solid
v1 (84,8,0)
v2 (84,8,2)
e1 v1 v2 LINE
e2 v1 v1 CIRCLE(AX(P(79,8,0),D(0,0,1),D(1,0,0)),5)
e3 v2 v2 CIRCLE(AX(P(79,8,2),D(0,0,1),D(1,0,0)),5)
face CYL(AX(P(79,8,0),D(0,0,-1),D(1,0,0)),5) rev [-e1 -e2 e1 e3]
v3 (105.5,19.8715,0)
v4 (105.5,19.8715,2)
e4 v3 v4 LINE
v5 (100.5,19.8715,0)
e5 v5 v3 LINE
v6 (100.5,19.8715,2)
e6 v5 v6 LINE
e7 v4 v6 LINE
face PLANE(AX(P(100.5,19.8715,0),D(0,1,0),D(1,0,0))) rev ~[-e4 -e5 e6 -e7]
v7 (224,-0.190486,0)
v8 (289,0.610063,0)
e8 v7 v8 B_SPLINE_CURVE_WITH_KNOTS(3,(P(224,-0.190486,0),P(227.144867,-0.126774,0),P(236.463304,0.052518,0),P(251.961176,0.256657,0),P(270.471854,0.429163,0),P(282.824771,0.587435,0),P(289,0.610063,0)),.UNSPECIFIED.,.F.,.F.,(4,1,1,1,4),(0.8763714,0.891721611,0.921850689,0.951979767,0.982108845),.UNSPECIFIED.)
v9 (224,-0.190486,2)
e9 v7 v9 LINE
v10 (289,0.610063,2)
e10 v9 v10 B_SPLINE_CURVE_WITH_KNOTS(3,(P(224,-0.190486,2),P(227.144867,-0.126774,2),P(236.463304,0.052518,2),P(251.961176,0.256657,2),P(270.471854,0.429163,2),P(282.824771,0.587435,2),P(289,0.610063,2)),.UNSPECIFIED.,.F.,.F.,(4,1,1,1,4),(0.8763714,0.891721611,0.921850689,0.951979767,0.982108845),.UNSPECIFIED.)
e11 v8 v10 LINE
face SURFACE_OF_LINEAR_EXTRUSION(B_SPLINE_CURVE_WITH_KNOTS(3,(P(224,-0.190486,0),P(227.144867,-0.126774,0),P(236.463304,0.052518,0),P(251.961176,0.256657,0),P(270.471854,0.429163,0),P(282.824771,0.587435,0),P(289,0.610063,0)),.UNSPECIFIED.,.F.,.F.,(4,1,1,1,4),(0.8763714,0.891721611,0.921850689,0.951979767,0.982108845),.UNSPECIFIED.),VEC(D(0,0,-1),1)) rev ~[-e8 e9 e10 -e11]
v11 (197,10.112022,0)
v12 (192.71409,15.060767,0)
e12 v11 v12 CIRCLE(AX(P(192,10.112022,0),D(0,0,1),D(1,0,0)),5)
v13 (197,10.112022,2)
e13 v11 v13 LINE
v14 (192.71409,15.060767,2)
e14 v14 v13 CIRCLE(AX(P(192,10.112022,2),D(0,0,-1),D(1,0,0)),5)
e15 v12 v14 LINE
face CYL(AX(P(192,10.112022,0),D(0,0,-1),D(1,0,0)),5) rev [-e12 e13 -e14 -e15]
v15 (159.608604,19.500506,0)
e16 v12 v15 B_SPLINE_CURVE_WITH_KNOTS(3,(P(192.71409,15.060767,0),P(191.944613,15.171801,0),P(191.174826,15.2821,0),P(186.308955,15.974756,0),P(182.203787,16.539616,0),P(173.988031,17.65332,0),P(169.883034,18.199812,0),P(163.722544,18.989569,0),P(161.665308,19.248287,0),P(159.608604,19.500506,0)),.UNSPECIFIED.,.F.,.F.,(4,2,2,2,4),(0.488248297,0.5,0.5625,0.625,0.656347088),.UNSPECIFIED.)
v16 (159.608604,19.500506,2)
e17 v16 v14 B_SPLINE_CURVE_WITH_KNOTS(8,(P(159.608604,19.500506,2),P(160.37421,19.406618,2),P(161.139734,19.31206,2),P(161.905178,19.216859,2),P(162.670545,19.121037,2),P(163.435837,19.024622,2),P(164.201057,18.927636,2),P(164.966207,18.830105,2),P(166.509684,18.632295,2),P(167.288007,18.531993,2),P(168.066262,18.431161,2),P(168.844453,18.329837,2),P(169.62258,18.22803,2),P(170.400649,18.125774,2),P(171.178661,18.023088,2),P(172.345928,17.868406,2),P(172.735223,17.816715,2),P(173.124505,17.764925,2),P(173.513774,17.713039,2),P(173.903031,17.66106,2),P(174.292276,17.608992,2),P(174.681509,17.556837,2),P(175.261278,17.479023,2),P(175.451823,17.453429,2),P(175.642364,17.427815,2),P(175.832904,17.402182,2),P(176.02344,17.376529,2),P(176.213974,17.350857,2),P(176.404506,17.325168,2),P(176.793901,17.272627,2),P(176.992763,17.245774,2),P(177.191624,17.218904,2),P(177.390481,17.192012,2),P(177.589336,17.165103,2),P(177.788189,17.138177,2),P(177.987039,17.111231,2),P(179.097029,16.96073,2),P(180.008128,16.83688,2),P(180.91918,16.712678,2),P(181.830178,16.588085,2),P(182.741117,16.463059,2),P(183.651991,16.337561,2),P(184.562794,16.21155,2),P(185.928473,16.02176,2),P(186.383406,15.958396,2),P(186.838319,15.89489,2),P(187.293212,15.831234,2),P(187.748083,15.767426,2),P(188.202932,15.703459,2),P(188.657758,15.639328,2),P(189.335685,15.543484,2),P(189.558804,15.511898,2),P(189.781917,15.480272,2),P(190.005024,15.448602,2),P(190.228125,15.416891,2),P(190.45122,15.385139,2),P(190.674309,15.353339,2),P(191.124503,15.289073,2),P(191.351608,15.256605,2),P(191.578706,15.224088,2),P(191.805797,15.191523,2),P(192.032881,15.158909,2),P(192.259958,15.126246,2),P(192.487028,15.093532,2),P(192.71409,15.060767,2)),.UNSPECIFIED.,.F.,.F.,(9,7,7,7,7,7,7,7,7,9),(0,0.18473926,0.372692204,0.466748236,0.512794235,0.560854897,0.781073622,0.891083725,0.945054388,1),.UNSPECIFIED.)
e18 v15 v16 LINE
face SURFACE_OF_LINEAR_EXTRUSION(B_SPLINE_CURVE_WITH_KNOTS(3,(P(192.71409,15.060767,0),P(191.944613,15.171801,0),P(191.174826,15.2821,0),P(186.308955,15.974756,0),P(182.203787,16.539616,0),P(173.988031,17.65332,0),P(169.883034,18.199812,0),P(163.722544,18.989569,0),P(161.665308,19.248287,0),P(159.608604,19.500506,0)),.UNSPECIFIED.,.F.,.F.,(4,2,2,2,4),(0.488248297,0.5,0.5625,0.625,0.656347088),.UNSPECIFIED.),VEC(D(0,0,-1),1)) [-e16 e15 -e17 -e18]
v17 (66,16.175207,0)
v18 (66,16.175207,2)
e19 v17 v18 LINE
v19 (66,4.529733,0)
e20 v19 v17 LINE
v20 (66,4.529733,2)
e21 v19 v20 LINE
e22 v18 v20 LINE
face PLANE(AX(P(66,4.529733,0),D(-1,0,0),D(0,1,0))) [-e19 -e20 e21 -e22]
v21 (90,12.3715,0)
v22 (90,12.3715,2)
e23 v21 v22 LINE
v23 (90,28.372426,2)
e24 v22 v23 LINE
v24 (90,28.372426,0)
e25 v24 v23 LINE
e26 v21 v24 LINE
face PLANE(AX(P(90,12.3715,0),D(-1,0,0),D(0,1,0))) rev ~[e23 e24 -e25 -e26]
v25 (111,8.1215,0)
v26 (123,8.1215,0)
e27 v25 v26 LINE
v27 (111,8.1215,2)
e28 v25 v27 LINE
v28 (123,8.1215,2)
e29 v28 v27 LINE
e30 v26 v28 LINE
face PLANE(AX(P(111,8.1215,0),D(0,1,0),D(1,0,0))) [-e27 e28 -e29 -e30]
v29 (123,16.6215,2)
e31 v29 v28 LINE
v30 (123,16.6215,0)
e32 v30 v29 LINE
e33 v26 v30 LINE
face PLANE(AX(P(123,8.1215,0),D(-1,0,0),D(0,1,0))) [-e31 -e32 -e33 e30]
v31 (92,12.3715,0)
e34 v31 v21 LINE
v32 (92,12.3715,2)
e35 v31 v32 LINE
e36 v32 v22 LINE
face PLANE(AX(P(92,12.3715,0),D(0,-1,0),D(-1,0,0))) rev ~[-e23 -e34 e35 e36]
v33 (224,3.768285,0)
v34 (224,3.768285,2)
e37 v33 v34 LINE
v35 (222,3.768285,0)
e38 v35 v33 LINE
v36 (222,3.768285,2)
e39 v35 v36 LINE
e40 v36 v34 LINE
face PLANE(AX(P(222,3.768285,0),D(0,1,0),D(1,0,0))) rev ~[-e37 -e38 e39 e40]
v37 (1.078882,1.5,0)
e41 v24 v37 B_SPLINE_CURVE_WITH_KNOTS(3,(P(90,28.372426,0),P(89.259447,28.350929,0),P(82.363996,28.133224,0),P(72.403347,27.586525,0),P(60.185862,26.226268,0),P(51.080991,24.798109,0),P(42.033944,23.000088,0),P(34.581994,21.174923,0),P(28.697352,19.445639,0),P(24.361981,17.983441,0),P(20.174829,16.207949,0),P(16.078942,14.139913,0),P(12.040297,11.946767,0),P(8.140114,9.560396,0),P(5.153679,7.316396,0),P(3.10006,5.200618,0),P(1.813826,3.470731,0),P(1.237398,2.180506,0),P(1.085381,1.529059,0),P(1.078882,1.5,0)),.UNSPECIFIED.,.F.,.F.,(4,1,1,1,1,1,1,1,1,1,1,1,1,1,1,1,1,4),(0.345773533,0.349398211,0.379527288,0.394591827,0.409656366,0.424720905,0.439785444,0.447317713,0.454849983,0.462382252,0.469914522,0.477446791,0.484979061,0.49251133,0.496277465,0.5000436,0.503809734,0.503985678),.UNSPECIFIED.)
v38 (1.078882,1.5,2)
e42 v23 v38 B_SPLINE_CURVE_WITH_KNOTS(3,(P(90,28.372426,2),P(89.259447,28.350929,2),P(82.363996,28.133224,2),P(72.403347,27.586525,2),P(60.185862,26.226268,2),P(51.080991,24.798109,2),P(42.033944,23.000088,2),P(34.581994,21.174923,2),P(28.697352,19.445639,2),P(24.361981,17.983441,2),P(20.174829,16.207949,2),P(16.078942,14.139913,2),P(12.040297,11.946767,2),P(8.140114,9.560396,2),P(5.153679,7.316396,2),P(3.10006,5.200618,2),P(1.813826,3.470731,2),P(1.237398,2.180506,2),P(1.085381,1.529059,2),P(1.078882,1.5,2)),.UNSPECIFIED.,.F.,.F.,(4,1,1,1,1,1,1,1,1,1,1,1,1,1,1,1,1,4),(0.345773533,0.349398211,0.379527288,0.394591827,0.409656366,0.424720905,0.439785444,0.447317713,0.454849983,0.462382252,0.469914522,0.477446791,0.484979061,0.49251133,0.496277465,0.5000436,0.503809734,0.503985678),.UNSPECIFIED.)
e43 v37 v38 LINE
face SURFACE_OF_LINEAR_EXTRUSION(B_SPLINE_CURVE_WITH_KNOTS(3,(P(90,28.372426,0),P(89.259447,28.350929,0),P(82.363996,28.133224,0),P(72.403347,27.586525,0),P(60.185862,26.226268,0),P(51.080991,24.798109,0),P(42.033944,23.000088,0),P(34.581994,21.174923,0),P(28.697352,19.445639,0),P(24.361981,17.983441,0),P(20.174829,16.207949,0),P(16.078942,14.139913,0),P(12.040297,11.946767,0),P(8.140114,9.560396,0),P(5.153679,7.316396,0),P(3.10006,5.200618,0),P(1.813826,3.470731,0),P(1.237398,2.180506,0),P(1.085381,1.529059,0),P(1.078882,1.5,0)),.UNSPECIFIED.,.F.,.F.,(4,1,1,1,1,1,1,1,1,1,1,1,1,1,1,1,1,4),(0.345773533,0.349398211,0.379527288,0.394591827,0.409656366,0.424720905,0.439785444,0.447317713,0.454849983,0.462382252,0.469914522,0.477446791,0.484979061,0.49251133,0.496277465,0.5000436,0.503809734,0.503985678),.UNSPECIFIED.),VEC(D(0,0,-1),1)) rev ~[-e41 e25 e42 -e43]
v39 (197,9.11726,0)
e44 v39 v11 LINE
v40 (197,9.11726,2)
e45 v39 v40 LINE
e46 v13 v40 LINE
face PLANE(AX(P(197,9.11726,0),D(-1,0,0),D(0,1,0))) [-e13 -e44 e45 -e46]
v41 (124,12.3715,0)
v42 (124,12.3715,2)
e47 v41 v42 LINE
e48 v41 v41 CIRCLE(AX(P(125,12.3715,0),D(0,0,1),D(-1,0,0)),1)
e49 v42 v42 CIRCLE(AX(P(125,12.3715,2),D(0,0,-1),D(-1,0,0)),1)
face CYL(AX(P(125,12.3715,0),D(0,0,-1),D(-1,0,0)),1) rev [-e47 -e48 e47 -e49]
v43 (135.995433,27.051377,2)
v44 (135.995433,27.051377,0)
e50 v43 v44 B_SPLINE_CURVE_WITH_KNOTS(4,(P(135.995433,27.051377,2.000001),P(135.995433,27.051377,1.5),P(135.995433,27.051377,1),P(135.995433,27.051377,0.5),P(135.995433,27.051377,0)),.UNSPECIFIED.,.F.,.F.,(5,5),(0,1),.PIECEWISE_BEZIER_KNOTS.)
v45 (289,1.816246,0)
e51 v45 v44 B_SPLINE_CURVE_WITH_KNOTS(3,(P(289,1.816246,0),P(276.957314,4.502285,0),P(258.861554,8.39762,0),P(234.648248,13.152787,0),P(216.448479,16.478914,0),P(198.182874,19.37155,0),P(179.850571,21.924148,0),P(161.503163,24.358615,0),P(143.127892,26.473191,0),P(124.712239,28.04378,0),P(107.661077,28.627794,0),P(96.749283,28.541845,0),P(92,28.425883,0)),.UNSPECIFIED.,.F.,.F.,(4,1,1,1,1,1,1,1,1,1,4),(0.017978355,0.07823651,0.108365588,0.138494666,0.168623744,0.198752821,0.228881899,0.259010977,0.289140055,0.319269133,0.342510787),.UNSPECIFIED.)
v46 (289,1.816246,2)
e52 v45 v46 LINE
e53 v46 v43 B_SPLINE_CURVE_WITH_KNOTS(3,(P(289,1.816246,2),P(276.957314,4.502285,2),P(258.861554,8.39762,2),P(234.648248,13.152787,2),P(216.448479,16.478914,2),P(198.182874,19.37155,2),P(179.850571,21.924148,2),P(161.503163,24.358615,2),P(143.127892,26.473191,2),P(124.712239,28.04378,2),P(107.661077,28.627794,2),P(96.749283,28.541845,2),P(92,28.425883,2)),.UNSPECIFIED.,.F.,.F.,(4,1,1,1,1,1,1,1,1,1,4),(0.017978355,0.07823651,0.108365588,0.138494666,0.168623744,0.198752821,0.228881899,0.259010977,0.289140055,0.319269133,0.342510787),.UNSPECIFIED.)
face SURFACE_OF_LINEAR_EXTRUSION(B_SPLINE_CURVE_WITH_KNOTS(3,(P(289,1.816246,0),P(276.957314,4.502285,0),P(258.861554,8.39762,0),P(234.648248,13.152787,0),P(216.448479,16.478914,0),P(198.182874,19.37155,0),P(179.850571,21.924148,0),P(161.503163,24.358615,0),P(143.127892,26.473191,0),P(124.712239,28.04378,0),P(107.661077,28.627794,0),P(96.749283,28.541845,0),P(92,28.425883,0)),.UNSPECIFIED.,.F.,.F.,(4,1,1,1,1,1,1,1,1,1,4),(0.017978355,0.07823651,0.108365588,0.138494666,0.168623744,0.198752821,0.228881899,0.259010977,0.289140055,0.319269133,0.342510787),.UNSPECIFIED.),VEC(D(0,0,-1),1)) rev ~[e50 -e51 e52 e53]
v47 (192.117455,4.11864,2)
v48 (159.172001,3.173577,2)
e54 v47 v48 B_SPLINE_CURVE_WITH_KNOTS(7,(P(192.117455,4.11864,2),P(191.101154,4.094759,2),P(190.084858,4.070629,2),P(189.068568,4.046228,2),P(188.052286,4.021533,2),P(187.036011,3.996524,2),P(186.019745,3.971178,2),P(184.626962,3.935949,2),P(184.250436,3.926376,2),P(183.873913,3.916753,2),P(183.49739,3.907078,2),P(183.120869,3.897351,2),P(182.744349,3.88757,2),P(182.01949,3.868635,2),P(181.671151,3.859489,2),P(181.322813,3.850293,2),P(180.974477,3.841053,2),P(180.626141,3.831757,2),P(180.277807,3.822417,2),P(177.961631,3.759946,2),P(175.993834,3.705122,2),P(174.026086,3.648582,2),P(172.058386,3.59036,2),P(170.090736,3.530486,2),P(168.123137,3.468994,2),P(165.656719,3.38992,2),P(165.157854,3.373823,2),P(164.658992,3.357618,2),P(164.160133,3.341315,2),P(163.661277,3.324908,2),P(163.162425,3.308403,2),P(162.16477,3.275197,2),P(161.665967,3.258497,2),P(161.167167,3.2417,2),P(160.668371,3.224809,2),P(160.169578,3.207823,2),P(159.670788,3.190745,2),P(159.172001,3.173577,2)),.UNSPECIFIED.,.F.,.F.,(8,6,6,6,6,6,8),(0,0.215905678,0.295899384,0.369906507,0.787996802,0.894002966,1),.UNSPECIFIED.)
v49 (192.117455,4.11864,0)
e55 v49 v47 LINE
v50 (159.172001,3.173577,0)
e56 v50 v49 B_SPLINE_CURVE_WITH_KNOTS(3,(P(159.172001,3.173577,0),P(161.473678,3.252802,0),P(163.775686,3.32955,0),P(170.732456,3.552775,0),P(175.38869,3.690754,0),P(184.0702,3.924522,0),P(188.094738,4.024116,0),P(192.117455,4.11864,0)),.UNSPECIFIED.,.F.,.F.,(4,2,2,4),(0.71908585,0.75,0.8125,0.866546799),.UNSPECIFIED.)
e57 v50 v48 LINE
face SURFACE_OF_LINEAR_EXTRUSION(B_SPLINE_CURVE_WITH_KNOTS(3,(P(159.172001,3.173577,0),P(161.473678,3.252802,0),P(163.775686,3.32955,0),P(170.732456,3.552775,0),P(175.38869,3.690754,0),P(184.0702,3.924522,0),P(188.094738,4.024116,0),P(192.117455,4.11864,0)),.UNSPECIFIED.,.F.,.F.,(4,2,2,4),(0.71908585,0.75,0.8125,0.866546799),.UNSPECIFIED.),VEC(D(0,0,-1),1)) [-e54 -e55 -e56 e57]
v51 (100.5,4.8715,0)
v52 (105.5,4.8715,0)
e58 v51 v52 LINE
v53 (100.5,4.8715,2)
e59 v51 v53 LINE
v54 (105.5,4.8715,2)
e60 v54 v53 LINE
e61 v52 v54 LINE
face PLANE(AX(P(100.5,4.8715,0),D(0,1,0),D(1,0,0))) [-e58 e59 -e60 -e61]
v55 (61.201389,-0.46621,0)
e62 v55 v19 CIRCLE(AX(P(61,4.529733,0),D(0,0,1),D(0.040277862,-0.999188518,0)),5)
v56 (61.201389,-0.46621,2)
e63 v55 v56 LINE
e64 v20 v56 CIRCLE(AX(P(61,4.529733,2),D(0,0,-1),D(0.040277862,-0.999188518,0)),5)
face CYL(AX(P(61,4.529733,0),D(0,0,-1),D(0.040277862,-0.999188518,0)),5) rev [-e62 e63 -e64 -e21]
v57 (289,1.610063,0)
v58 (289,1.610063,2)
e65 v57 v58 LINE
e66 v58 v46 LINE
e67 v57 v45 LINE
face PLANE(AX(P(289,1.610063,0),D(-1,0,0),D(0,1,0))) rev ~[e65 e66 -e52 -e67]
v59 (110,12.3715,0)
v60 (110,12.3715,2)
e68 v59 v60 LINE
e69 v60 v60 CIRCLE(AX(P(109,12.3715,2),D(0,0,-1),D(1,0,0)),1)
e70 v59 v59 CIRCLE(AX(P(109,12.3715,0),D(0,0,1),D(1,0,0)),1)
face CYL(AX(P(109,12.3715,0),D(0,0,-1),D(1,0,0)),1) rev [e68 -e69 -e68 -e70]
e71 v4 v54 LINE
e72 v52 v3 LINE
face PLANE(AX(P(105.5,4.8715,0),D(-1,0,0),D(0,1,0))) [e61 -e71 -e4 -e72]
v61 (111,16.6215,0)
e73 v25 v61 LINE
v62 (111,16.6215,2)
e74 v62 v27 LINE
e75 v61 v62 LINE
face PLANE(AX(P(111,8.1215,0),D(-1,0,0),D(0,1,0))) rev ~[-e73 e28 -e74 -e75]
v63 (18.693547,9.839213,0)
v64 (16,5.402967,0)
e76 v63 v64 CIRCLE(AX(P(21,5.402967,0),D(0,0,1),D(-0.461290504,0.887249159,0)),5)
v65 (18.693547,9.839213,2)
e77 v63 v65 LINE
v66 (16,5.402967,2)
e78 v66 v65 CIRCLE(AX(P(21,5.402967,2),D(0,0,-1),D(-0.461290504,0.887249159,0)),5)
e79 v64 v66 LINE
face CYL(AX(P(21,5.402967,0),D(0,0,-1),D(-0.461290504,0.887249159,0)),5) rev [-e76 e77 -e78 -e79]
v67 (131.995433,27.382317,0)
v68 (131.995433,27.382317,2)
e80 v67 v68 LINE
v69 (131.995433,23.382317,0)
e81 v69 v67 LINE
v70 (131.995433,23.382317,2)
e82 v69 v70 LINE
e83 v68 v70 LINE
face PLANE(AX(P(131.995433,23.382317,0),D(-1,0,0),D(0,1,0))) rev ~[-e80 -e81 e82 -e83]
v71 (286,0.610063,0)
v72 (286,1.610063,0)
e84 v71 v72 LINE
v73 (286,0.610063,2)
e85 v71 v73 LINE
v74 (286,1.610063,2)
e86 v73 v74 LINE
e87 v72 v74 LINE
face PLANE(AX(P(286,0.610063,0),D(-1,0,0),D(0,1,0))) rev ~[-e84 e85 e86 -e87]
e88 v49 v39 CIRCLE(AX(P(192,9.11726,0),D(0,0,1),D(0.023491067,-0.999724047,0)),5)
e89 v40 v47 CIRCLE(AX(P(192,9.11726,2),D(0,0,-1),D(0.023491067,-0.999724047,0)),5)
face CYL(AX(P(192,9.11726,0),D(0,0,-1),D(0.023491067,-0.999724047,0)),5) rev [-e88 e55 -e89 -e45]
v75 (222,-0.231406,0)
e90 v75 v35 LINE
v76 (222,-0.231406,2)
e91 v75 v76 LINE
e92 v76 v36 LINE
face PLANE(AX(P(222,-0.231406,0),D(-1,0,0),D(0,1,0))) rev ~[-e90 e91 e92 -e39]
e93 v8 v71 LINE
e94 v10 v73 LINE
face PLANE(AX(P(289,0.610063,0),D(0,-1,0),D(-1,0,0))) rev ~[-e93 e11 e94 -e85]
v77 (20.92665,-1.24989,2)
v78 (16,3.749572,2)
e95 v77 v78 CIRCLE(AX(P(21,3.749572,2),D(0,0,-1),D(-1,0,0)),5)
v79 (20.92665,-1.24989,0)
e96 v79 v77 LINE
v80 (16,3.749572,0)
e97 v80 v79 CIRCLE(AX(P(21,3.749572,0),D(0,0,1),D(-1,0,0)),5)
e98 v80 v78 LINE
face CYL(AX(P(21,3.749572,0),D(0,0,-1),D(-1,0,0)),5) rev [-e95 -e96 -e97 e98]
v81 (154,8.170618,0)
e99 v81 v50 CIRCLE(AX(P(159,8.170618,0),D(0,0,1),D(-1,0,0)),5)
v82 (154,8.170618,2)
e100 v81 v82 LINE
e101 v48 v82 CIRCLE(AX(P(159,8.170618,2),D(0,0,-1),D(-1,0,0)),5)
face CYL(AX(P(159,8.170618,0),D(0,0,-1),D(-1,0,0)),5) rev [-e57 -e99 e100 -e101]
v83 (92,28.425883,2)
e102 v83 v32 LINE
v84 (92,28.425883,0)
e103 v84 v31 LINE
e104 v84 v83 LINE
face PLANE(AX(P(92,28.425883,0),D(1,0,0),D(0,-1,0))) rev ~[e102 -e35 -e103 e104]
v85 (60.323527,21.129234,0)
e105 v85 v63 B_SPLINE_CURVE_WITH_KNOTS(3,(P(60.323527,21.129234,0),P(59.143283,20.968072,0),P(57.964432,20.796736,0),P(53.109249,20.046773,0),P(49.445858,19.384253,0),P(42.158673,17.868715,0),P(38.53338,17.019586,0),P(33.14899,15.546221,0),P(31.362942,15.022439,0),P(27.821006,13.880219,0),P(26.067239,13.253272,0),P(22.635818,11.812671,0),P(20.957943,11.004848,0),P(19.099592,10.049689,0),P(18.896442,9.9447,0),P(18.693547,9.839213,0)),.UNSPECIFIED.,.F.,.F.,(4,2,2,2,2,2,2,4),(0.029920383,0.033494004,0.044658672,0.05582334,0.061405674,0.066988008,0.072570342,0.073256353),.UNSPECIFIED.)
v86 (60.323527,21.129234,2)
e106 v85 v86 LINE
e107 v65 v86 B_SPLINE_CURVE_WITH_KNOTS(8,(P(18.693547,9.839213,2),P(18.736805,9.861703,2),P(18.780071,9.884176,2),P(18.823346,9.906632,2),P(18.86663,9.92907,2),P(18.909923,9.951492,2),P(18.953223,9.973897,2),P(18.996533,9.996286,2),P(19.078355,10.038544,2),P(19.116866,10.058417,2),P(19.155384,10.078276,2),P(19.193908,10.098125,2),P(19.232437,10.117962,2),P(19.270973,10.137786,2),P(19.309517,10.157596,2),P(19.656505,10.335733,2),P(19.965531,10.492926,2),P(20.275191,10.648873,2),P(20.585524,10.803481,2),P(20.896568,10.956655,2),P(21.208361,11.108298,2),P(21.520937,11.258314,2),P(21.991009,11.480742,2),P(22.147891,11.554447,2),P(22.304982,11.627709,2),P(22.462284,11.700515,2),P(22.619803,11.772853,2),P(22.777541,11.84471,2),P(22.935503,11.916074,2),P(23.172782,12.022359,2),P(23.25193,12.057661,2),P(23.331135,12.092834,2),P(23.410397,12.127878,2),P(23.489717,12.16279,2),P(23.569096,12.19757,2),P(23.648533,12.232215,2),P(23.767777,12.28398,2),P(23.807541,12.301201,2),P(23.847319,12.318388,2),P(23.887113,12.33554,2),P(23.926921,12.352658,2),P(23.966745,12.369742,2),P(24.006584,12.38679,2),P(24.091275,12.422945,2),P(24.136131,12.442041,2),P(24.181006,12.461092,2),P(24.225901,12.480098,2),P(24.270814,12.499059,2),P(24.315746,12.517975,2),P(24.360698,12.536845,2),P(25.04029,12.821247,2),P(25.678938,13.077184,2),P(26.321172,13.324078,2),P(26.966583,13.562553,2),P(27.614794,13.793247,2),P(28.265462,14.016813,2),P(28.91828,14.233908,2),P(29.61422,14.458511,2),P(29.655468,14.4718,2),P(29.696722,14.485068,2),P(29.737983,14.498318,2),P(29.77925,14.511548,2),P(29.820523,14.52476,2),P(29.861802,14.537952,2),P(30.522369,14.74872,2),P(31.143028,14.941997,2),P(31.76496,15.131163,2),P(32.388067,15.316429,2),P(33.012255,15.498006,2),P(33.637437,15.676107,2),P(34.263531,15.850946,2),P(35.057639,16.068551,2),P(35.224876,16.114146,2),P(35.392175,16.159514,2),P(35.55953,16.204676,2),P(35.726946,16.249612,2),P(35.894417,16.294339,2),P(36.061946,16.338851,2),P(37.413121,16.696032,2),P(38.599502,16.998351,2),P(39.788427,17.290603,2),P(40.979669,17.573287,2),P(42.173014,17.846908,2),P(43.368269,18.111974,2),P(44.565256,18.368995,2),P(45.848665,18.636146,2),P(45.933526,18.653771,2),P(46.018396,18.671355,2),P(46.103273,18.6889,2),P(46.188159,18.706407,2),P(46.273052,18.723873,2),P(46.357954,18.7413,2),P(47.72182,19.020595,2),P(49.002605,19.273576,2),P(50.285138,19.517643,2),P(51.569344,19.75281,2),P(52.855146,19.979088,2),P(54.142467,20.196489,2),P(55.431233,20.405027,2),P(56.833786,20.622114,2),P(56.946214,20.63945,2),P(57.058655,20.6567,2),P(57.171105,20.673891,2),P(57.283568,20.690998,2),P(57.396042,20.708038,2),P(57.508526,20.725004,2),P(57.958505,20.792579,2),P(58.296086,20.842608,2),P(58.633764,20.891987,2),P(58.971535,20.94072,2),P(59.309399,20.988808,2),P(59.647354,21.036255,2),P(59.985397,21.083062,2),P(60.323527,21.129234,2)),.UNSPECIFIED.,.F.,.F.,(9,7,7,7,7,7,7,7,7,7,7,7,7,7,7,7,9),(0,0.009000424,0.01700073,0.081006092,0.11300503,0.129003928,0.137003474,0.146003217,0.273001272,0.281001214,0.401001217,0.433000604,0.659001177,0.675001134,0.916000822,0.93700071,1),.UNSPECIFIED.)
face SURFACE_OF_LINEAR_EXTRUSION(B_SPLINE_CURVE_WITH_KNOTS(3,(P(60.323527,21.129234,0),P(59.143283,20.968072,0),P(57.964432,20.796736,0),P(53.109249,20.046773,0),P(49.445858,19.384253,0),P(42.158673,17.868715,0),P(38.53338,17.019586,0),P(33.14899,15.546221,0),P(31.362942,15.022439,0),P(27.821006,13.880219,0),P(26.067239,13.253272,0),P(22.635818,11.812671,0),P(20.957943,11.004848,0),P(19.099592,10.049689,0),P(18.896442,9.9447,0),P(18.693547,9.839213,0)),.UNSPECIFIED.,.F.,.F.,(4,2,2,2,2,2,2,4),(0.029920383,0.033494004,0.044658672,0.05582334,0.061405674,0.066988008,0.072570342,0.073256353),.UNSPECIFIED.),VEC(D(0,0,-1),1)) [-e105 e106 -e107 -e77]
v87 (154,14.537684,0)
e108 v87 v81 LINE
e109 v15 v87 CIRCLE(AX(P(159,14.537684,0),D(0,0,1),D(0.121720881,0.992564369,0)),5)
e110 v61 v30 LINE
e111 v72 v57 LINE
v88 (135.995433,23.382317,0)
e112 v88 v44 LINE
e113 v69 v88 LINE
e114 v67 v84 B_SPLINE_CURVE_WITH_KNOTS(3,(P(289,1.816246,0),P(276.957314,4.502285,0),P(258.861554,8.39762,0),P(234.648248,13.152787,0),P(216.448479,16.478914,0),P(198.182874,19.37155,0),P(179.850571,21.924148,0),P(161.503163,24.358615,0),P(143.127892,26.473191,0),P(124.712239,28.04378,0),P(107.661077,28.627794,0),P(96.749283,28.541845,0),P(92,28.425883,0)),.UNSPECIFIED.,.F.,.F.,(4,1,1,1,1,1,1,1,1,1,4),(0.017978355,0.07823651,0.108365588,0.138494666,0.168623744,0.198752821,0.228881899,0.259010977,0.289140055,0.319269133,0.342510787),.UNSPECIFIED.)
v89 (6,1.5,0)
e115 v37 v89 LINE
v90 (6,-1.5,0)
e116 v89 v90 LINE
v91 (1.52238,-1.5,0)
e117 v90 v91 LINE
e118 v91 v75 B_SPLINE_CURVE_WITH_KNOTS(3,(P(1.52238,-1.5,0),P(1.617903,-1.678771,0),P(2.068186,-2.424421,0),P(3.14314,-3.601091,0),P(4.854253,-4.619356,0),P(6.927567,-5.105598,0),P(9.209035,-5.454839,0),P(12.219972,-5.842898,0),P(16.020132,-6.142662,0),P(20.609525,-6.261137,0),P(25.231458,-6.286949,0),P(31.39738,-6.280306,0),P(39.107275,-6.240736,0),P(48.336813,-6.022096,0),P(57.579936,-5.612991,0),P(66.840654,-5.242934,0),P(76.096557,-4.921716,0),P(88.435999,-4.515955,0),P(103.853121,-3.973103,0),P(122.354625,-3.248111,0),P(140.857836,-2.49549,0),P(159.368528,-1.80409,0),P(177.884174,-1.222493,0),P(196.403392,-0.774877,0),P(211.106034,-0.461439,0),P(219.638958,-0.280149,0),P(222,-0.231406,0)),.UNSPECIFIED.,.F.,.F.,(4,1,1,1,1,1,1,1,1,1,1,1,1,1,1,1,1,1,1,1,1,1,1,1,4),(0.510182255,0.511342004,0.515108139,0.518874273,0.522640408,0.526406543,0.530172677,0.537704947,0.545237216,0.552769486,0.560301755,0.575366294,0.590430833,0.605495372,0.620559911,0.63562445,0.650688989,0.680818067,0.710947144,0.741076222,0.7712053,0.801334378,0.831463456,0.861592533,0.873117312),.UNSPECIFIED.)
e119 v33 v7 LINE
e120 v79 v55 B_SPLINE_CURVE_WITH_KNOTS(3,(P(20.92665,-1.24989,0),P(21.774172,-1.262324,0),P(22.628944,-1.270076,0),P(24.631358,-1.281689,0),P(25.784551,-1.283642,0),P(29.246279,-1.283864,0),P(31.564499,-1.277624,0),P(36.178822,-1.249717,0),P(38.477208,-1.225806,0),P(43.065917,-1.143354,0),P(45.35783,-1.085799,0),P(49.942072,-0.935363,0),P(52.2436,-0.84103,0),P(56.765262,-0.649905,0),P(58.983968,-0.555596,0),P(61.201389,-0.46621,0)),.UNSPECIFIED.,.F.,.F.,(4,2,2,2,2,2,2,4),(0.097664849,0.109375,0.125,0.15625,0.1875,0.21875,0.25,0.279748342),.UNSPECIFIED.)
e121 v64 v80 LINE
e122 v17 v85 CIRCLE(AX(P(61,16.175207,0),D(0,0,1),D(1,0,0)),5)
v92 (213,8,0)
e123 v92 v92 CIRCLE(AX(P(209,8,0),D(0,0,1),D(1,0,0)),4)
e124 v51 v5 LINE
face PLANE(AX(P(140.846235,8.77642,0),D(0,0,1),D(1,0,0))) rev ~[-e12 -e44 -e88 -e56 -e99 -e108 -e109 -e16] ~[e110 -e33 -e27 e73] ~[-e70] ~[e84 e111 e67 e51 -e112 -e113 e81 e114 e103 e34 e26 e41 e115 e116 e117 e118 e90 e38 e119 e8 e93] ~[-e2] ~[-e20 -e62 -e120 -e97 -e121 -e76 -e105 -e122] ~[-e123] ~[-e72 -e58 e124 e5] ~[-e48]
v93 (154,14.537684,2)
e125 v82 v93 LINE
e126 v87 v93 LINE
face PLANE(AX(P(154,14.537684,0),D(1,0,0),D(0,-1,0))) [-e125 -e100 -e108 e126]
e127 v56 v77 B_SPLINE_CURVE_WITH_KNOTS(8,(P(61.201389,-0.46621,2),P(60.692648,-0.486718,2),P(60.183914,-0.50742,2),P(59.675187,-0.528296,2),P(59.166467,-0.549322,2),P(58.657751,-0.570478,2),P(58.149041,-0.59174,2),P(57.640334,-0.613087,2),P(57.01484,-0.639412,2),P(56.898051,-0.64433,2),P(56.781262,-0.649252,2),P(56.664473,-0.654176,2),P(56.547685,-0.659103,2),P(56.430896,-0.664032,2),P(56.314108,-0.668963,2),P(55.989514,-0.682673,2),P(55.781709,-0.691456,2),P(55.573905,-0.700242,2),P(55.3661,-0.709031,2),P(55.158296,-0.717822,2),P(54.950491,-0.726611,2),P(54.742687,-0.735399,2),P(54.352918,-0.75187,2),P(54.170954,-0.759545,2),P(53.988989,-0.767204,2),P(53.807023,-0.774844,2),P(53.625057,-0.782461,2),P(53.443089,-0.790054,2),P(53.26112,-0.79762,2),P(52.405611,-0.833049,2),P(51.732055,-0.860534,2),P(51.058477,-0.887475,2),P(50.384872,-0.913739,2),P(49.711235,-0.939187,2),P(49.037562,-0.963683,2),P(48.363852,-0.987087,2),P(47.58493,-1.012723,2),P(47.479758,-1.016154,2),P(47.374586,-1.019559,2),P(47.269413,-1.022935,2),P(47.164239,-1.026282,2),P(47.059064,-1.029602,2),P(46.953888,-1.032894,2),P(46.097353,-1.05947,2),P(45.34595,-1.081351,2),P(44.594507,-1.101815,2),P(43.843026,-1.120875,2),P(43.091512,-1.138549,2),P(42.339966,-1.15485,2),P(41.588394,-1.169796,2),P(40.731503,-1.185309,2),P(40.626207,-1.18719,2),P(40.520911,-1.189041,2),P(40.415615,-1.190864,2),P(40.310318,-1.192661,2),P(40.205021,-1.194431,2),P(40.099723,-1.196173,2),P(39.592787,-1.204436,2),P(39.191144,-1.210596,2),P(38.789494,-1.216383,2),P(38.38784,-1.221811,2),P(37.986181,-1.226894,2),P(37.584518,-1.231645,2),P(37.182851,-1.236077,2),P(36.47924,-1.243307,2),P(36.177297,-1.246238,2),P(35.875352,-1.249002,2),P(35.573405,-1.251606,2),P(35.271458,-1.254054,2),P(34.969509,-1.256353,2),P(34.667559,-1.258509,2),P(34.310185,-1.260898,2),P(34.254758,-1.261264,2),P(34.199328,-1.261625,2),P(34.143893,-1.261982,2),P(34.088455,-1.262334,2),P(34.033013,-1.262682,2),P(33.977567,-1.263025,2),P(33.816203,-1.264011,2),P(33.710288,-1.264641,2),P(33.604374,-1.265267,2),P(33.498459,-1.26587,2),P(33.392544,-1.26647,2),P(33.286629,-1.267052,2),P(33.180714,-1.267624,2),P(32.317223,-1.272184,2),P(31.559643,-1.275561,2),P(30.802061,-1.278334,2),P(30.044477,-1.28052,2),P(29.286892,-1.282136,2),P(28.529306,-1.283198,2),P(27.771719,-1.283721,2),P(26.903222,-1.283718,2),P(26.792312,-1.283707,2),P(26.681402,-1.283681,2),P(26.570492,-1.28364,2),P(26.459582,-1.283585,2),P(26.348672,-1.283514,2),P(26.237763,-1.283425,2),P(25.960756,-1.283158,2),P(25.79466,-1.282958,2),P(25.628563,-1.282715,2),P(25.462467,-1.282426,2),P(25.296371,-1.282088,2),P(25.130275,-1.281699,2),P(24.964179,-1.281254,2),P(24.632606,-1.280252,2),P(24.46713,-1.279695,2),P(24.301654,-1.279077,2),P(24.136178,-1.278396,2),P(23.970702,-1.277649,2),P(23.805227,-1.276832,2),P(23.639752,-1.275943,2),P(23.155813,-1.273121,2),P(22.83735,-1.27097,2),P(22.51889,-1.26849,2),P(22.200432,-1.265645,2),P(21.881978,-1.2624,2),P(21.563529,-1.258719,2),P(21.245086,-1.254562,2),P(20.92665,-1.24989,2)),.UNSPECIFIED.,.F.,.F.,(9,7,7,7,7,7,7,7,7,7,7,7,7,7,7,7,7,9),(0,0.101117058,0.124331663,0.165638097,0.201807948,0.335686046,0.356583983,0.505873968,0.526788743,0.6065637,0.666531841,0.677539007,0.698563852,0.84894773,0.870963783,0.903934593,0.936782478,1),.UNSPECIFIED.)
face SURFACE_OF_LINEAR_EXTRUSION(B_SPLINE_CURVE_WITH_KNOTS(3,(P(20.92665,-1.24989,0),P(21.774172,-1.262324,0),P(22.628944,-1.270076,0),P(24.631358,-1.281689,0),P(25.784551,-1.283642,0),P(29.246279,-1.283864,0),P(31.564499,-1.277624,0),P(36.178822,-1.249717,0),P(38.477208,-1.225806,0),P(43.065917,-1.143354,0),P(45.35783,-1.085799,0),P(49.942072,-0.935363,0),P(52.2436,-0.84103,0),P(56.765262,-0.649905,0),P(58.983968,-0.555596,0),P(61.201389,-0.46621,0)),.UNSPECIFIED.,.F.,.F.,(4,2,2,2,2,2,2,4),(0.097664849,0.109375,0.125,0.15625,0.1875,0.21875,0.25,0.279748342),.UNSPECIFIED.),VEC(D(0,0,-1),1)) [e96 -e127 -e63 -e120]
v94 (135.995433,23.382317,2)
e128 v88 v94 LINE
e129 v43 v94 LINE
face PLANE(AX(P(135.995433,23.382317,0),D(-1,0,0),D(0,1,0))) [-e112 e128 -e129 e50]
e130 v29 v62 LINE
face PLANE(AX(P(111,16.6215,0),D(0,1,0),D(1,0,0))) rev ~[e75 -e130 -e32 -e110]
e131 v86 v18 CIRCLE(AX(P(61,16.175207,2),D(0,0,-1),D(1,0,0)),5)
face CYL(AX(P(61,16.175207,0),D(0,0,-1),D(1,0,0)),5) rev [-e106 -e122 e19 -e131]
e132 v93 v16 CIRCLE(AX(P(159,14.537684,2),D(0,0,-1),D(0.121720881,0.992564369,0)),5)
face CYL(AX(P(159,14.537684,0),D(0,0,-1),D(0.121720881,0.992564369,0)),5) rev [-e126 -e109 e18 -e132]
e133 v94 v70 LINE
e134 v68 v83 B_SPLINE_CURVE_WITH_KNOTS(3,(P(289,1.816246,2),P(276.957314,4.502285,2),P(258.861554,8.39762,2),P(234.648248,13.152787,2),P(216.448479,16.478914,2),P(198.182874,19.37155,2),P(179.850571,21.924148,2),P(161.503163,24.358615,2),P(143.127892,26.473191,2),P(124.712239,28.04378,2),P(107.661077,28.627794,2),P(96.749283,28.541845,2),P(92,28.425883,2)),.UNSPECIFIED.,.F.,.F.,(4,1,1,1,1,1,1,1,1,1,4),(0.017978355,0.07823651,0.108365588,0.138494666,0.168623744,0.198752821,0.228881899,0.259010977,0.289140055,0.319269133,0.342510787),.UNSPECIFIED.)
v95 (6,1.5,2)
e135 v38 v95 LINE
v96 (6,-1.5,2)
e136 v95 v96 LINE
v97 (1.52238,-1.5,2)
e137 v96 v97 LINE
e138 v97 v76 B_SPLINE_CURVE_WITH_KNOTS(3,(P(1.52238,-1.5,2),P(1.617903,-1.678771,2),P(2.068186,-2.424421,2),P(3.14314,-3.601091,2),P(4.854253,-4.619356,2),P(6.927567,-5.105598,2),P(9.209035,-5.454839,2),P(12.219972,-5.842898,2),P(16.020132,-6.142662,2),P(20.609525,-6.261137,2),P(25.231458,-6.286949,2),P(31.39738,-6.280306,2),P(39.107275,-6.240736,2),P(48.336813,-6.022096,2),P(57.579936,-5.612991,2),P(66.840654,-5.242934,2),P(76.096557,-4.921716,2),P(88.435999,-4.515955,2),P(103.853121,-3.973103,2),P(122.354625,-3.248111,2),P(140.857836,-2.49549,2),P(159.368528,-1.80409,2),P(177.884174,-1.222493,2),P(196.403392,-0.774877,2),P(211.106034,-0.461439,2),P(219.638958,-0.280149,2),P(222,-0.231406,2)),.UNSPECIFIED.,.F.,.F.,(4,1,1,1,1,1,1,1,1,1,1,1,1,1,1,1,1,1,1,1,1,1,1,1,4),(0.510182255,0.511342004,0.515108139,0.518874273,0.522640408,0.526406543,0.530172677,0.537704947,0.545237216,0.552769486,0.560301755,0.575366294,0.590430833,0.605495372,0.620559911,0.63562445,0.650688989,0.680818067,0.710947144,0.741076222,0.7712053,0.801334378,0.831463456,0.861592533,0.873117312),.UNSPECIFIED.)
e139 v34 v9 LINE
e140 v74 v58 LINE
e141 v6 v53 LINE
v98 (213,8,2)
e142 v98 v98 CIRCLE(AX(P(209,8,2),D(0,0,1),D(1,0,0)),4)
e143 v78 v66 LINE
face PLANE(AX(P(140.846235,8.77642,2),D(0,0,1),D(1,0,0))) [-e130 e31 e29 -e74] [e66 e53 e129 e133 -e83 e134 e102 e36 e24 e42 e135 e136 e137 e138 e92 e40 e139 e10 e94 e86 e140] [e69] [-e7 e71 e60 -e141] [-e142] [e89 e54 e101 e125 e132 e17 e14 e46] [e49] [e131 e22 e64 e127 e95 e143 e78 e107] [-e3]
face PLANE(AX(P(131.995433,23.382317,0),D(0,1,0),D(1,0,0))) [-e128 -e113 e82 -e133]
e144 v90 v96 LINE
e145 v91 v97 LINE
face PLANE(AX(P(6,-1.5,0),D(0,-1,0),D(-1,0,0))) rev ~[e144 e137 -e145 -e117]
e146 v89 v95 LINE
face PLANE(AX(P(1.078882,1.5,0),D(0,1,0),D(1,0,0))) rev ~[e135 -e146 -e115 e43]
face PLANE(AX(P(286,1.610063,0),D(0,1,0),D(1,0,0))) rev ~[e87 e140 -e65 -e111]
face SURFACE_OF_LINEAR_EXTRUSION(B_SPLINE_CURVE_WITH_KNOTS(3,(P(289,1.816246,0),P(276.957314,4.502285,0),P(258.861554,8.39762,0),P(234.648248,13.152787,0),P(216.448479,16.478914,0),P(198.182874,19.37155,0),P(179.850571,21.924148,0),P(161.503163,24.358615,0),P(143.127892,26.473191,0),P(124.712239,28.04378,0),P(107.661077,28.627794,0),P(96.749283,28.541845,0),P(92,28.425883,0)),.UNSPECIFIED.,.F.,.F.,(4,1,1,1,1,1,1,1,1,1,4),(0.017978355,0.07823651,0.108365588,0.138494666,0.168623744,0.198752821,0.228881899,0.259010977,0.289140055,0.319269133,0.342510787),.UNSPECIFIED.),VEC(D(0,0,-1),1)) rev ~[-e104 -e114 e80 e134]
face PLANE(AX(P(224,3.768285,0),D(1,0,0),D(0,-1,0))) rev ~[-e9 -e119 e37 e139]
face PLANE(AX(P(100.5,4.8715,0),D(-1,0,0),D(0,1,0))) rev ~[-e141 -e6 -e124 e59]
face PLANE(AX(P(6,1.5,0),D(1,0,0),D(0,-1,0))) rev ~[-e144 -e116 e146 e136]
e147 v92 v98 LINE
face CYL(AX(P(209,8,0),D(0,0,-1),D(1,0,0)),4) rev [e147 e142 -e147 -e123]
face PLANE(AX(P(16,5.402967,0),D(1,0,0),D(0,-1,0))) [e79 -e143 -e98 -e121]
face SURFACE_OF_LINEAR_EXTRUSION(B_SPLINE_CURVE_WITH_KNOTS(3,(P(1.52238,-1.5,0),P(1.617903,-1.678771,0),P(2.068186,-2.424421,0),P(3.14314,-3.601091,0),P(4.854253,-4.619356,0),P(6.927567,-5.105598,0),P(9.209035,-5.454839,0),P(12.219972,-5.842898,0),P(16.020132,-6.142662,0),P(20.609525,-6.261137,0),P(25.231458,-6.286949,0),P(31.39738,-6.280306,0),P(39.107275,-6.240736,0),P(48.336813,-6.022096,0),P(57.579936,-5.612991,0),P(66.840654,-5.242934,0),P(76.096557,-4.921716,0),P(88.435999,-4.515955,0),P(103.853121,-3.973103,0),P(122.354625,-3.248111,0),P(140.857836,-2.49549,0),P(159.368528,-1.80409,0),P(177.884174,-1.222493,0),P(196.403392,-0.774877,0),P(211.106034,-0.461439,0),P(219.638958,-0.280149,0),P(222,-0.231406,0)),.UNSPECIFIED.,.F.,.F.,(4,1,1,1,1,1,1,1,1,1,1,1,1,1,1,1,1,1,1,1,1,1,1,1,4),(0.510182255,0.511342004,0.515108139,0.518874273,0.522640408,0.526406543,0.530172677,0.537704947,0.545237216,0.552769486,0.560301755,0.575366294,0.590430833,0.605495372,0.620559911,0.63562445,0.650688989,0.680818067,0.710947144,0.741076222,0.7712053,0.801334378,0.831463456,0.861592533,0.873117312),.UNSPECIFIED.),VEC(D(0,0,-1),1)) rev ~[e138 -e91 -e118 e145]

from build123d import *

# Parameters (mm, degrees)
SKETCH_1_R          = 5
SKETCH_1_R_2        = 4
EXTRUDE_1_DEPTH     = 2
SKETCH_3_W          = 5
SKETCH_3_H          = 15
SKETCH_3_W_2        = 12
SKETCH_3_H_2        = 8.5
SKETCH_3_R          = 1
SKETCH_3_W_3        = 4
SKETCH_3_H_3        = 4
CUT_EXTRUDE_2_DEPTH = 291.413778556


with BuildPart() as part:
    # 草图1 → 凸台-拉伸1 (new body)
    with BuildSketch(Plane.XY):
        with BuildLine():
            Line((90, 12.3715), (90, 28.372426217))
            add(Edge.make_bspline(
                [(90, 28.372426217), (89.259446982, 28.350928743), (82.363996343, 28.13322439), (72.403347361, 27.586524792), (60.185862052, 26.226268085), (51.080991088, 24.79810862), (42.033943524, 23.000087944), (34.581994337, 21.174922903), (28.697351661, 19.44563851), (24.361981086, 17.983441115), (20.174828998, 16.207949367), (16.078941989, 14.139912989), (12.040296713, 11.946766626), (8.14011433, 9.56039573), (5.153679337, 7.316395724), (3.100060439, 5.200618052), (1.813825976, 3.470730924), (1.237398467, 2.180506339), (1.085380705, 1.529058937), (1.078882286, 1.5)],
                knots=[0.345773533, 0.345773533, 0.345773533, 0.345773533, 0.349398211, 0.379527288, 0.394591827, 0.409656366, 0.424720905, 0.439785444, 0.447317713, 0.454849983, 0.462382252, 0.469914522, 0.477446791, 0.484979061, 0.49251133, 0.496277465, 0.5000436, 0.503809734, 0.503985678, 0.503985678, 0.503985678, 0.503985678], degree=3))
            Line((1.078882286, 1.5), (6, 1.5))
            Line((6, 1.5), (6, -1.5))
            Line((6, -1.5), (1.522379628, -1.5))
            add(Edge.make_bspline(
                [(1.522379628, -1.5), (1.617903461, -1.678770523), (2.068186491, -2.42442122), (3.143139608, -3.601090845), (4.854253, -4.619355756), (6.927567017, -5.105597911), (9.209034621, -5.454839075), (12.219971865, -5.84289763), (16.020132359, -6.14266222), (20.609524976, -6.2611368), (25.231457517, -6.286948592), (31.397380169, -6.280305851), (39.107274969, -6.240736398), (48.336813051, -6.022096429), (57.579935967, -5.612990736), (66.840654471, -5.242934226), (76.096556555, -4.921715721), (88.435998513, -4.515955408), (103.853120896, -3.973102953), (122.354625015, -3.248110744), (140.857835973, -2.495489966), (159.368527813, -1.804089638), (177.884173919, -1.222493213), (196.4033921, -0.774877257), (211.106034353, -0.46143934), (219.638958118, -0.28014938), (222, -0.231405833)],
                knots=[0.510182255, 0.510182255, 0.510182255, 0.510182255, 0.511342004, 0.515108139, 0.518874273, 0.522640408, 0.526406543, 0.530172677, 0.537704947, 0.545237216, 0.552769486, 0.560301755, 0.575366294, 0.590430833, 0.605495372, 0.620559911, 0.63562445, 0.650688989, 0.680818067, 0.710947144, 0.741076222, 0.7712053, 0.801334378, 0.831463456, 0.861592533, 0.873117312, 0.873117312, 0.873117312, 0.873117312], degree=3))
            Line((222, -0.231405833), (222, 3.768284765))
            Line((222, 3.768284765), (224, 3.768284765))
            Line((224, 3.768284765), (224, -0.190486213))
            add(Edge.make_bspline(
                [(224, -0.190486213), (227.14486696, -0.126773539), (236.463303784, 0.052517956), (251.961175933, 0.256656825), (270.471854229, 0.429163033), (282.824771355, 0.587434741), (289, 0.610062865)],
                knots=[0.8763714, 0.8763714, 0.8763714, 0.8763714, 0.891721611, 0.921850689, 0.951979767, 0.982108845, 0.982108845, 0.982108845, 0.982108845], degree=3))
            Line((289, 0.610062865), (286, 0.610062865))
            Line((286, 0.610062865), (286, 1.610062865))
            Line((286, 1.610062865), (289, 1.610062865))
            Line((289, 1.610062865), (289, 1.816246039))
            add(Edge.make_bspline(
                [(289, 1.816246039), (276.957314444, 4.502285023), (258.861554155, 8.397620333), (234.648247971, 13.152786595), (216.448478593, 16.478914183), (198.182873559, 19.371550405), (179.850571346, 21.924148488), (161.503162682, 24.358614825), (143.127892269, 26.473190985), (124.712239059, 28.043780086), (107.661076739, 28.627794226), (96.749283398, 28.541845307), (92, 28.425883181)],
                knots=[0.017978355, 0.017978355, 0.017978355, 0.017978355, 0.07823651, 0.108365588, 0.138494666, 0.168623744, 0.198752821, 0.228881899, 0.259010977, 0.289140055, 0.319269133, 0.342510787, 0.342510787, 0.342510787, 0.342510787], degree=3))
            Line((92, 28.425883181), (92, 12.3715))
            Line((92, 12.3715), (90, 12.3715))
        make_face()
        with Locations((79, 8)):
            Circle(SKETCH_1_R, mode=Mode.SUBTRACT)
        with Locations((209, 8)):
            Circle(SKETCH_1_R_2, mode=Mode.SUBTRACT)
    extrude(amount=EXTRUDE_1_DEPTH)

    # 草图3 → 切除-拉伸2 (cut, through all)
    with BuildSketch(Plane.XY):
        with Locations((103, 12.3715)):
            Rectangle(SKETCH_3_W, SKETCH_3_H)
        with Locations((117, 12.3715)):
            Rectangle(SKETCH_3_W_2, SKETCH_3_H_2)
        with Locations((109, 12.3715)):
            Circle(SKETCH_3_R)
        with Locations(Location((125, 12.3715, 0), (0, 0, 180))):
            Circle(SKETCH_3_R)
        with Locations((133.995432672, 25.382316812)):
            Rectangle(SKETCH_3_W_3, SKETCH_3_H_3)
        with BuildLine():
            add(Edge.make_bspline(
                [(192.714090476, 15.060767244), (191.944613201, 15.171800732), (191.174825659, 15.282099728), (186.308954619, 15.974755997), (182.203786583, 16.539615577), (173.988030512, 17.653320176), (169.883033971, 18.199812389), (163.72254432, 18.989569369), (161.665308348, 19.2482867), (159.608604404, 19.500505924)],
                knots=[0.488248297, 0.488248297, 0.488248297, 0.488248297, 0.5, 0.5, 0.5625, 0.5625, 0.625, 0.625, 0.656347088, 0.656347088, 0.656347088, 0.656347088], degree=3))
            ThreePointArc((159.608604404, 19.500505924), (155.686619703, 18.282214891), (154, 14.537684078))
            Line((154, 14.537684078), (154, 8.170617563))
            ThreePointArc((154, 8.170617563), (155.525809704, 4.574786396), (159.172000715, 3.173576864))
            add(Edge.make_bspline(
                [(159.172000715, 3.173576864), (161.473677828, 3.252801775), (163.775686209, 3.329549926), (170.732455506, 3.552774746), (175.388689917, 3.690754395), (184.07020031, 3.924521784), (188.094738333, 4.024115619), (192.117455336, 4.118639618)],
                knots=[0.71908585, 0.71908585, 0.71908585, 0.71908585, 0.75, 0.75, 0.8125, 0.8125, 0.866546799, 0.866546799, 0.866546799, 0.866546799], degree=3))
            ThreePointArc((192.117455336, 4.118639618), (195.576819584, 5.623499462), (197, 9.117259852))
            Line((197, 9.117259852), (197, 10.112022474))
            ThreePointArc((197, 10.112022474), (195.77958016, 13.385365385), (192.714090476, 15.060767244))
        make_face()
        with BuildLine():
            add(Edge.make_bspline(
                [(20.926650195, -1.249889668), (21.774172276, -1.262324122), (22.628944162, -1.270076322), (24.631357544, -1.281688823), (25.78455057, -1.283642157), (29.246278981, -1.283863887), (31.564498991, -1.277624199), (36.178821914, -1.249716978), (38.477208261, -1.225805817), (43.065916773, -1.143353772), (45.357830447, -1.085798853), (49.942071524, -0.935363079), (52.243600435, -0.841029597), (56.765262426, -0.649905427), (58.983967724, -0.555595534), (61.201389309, -0.466209999)],
                knots=[0.097664849, 0.097664849, 0.097664849, 0.097664849, 0.109375, 0.109375, 0.125, 0.125, 0.15625, 0.15625, 0.1875, 0.1875, 0.21875, 0.21875, 0.25, 0.25, 0.279748342, 0.279748342, 0.279748342, 0.279748342], degree=3))
            ThreePointArc((61.201389309, -0.466209999), (64.606032899, 1.066132334), (66, 4.529732589))
            Line((66, 4.529732589), (66, 16.175207171))
            ThreePointArc((66, 16.175207171), (64.287676463, 19.942325894), (60.32352661, 21.129234195))
            add(Edge.make_bspline(
                [(60.32352661, 21.129234195), (59.143282742, 20.968071656), (57.964431768, 20.796736398), (53.109249428, 20.046773379), (49.445857595, 19.384253181), (42.158673028, 17.868714577), (38.533379611, 17.019586343), (33.148990447, 15.546220745), (31.362942012, 15.022439399), (27.821005995, 13.880218625), (26.067238608, 13.253271835), (22.635818059, 11.812670552), (20.957942753, 11.004847704), (19.099592195, 10.049689097), (18.896441621, 9.944700093), (18.693547477, 9.839213217)],
                knots=[0.029920383, 0.029920383, 0.029920383, 0.029920383, 0.033494004, 0.033494004, 0.044658672, 0.044658672, 0.05582334, 0.05582334, 0.061405674, 0.061405674, 0.066988008, 0.066988008, 0.072570342, 0.072570342, 0.073256353, 0.073256353, 0.073256353, 0.073256353], degree=3))
            ThreePointArc((18.693547477, 9.839213217), (16.726110517, 7.997937304), (16, 5.402967421))
            Line((16, 5.402967421), (16, 3.749572283))
            ThreePointArc((16, 3.749572283), (17.43862744, 0.240067263), (20.926650195, -1.249889668))
        make_face()
    extrude(amount=CUT_EXTRUDE_2_DEPTH, mode=Mode.SUBTRACT)


solid = part.part
